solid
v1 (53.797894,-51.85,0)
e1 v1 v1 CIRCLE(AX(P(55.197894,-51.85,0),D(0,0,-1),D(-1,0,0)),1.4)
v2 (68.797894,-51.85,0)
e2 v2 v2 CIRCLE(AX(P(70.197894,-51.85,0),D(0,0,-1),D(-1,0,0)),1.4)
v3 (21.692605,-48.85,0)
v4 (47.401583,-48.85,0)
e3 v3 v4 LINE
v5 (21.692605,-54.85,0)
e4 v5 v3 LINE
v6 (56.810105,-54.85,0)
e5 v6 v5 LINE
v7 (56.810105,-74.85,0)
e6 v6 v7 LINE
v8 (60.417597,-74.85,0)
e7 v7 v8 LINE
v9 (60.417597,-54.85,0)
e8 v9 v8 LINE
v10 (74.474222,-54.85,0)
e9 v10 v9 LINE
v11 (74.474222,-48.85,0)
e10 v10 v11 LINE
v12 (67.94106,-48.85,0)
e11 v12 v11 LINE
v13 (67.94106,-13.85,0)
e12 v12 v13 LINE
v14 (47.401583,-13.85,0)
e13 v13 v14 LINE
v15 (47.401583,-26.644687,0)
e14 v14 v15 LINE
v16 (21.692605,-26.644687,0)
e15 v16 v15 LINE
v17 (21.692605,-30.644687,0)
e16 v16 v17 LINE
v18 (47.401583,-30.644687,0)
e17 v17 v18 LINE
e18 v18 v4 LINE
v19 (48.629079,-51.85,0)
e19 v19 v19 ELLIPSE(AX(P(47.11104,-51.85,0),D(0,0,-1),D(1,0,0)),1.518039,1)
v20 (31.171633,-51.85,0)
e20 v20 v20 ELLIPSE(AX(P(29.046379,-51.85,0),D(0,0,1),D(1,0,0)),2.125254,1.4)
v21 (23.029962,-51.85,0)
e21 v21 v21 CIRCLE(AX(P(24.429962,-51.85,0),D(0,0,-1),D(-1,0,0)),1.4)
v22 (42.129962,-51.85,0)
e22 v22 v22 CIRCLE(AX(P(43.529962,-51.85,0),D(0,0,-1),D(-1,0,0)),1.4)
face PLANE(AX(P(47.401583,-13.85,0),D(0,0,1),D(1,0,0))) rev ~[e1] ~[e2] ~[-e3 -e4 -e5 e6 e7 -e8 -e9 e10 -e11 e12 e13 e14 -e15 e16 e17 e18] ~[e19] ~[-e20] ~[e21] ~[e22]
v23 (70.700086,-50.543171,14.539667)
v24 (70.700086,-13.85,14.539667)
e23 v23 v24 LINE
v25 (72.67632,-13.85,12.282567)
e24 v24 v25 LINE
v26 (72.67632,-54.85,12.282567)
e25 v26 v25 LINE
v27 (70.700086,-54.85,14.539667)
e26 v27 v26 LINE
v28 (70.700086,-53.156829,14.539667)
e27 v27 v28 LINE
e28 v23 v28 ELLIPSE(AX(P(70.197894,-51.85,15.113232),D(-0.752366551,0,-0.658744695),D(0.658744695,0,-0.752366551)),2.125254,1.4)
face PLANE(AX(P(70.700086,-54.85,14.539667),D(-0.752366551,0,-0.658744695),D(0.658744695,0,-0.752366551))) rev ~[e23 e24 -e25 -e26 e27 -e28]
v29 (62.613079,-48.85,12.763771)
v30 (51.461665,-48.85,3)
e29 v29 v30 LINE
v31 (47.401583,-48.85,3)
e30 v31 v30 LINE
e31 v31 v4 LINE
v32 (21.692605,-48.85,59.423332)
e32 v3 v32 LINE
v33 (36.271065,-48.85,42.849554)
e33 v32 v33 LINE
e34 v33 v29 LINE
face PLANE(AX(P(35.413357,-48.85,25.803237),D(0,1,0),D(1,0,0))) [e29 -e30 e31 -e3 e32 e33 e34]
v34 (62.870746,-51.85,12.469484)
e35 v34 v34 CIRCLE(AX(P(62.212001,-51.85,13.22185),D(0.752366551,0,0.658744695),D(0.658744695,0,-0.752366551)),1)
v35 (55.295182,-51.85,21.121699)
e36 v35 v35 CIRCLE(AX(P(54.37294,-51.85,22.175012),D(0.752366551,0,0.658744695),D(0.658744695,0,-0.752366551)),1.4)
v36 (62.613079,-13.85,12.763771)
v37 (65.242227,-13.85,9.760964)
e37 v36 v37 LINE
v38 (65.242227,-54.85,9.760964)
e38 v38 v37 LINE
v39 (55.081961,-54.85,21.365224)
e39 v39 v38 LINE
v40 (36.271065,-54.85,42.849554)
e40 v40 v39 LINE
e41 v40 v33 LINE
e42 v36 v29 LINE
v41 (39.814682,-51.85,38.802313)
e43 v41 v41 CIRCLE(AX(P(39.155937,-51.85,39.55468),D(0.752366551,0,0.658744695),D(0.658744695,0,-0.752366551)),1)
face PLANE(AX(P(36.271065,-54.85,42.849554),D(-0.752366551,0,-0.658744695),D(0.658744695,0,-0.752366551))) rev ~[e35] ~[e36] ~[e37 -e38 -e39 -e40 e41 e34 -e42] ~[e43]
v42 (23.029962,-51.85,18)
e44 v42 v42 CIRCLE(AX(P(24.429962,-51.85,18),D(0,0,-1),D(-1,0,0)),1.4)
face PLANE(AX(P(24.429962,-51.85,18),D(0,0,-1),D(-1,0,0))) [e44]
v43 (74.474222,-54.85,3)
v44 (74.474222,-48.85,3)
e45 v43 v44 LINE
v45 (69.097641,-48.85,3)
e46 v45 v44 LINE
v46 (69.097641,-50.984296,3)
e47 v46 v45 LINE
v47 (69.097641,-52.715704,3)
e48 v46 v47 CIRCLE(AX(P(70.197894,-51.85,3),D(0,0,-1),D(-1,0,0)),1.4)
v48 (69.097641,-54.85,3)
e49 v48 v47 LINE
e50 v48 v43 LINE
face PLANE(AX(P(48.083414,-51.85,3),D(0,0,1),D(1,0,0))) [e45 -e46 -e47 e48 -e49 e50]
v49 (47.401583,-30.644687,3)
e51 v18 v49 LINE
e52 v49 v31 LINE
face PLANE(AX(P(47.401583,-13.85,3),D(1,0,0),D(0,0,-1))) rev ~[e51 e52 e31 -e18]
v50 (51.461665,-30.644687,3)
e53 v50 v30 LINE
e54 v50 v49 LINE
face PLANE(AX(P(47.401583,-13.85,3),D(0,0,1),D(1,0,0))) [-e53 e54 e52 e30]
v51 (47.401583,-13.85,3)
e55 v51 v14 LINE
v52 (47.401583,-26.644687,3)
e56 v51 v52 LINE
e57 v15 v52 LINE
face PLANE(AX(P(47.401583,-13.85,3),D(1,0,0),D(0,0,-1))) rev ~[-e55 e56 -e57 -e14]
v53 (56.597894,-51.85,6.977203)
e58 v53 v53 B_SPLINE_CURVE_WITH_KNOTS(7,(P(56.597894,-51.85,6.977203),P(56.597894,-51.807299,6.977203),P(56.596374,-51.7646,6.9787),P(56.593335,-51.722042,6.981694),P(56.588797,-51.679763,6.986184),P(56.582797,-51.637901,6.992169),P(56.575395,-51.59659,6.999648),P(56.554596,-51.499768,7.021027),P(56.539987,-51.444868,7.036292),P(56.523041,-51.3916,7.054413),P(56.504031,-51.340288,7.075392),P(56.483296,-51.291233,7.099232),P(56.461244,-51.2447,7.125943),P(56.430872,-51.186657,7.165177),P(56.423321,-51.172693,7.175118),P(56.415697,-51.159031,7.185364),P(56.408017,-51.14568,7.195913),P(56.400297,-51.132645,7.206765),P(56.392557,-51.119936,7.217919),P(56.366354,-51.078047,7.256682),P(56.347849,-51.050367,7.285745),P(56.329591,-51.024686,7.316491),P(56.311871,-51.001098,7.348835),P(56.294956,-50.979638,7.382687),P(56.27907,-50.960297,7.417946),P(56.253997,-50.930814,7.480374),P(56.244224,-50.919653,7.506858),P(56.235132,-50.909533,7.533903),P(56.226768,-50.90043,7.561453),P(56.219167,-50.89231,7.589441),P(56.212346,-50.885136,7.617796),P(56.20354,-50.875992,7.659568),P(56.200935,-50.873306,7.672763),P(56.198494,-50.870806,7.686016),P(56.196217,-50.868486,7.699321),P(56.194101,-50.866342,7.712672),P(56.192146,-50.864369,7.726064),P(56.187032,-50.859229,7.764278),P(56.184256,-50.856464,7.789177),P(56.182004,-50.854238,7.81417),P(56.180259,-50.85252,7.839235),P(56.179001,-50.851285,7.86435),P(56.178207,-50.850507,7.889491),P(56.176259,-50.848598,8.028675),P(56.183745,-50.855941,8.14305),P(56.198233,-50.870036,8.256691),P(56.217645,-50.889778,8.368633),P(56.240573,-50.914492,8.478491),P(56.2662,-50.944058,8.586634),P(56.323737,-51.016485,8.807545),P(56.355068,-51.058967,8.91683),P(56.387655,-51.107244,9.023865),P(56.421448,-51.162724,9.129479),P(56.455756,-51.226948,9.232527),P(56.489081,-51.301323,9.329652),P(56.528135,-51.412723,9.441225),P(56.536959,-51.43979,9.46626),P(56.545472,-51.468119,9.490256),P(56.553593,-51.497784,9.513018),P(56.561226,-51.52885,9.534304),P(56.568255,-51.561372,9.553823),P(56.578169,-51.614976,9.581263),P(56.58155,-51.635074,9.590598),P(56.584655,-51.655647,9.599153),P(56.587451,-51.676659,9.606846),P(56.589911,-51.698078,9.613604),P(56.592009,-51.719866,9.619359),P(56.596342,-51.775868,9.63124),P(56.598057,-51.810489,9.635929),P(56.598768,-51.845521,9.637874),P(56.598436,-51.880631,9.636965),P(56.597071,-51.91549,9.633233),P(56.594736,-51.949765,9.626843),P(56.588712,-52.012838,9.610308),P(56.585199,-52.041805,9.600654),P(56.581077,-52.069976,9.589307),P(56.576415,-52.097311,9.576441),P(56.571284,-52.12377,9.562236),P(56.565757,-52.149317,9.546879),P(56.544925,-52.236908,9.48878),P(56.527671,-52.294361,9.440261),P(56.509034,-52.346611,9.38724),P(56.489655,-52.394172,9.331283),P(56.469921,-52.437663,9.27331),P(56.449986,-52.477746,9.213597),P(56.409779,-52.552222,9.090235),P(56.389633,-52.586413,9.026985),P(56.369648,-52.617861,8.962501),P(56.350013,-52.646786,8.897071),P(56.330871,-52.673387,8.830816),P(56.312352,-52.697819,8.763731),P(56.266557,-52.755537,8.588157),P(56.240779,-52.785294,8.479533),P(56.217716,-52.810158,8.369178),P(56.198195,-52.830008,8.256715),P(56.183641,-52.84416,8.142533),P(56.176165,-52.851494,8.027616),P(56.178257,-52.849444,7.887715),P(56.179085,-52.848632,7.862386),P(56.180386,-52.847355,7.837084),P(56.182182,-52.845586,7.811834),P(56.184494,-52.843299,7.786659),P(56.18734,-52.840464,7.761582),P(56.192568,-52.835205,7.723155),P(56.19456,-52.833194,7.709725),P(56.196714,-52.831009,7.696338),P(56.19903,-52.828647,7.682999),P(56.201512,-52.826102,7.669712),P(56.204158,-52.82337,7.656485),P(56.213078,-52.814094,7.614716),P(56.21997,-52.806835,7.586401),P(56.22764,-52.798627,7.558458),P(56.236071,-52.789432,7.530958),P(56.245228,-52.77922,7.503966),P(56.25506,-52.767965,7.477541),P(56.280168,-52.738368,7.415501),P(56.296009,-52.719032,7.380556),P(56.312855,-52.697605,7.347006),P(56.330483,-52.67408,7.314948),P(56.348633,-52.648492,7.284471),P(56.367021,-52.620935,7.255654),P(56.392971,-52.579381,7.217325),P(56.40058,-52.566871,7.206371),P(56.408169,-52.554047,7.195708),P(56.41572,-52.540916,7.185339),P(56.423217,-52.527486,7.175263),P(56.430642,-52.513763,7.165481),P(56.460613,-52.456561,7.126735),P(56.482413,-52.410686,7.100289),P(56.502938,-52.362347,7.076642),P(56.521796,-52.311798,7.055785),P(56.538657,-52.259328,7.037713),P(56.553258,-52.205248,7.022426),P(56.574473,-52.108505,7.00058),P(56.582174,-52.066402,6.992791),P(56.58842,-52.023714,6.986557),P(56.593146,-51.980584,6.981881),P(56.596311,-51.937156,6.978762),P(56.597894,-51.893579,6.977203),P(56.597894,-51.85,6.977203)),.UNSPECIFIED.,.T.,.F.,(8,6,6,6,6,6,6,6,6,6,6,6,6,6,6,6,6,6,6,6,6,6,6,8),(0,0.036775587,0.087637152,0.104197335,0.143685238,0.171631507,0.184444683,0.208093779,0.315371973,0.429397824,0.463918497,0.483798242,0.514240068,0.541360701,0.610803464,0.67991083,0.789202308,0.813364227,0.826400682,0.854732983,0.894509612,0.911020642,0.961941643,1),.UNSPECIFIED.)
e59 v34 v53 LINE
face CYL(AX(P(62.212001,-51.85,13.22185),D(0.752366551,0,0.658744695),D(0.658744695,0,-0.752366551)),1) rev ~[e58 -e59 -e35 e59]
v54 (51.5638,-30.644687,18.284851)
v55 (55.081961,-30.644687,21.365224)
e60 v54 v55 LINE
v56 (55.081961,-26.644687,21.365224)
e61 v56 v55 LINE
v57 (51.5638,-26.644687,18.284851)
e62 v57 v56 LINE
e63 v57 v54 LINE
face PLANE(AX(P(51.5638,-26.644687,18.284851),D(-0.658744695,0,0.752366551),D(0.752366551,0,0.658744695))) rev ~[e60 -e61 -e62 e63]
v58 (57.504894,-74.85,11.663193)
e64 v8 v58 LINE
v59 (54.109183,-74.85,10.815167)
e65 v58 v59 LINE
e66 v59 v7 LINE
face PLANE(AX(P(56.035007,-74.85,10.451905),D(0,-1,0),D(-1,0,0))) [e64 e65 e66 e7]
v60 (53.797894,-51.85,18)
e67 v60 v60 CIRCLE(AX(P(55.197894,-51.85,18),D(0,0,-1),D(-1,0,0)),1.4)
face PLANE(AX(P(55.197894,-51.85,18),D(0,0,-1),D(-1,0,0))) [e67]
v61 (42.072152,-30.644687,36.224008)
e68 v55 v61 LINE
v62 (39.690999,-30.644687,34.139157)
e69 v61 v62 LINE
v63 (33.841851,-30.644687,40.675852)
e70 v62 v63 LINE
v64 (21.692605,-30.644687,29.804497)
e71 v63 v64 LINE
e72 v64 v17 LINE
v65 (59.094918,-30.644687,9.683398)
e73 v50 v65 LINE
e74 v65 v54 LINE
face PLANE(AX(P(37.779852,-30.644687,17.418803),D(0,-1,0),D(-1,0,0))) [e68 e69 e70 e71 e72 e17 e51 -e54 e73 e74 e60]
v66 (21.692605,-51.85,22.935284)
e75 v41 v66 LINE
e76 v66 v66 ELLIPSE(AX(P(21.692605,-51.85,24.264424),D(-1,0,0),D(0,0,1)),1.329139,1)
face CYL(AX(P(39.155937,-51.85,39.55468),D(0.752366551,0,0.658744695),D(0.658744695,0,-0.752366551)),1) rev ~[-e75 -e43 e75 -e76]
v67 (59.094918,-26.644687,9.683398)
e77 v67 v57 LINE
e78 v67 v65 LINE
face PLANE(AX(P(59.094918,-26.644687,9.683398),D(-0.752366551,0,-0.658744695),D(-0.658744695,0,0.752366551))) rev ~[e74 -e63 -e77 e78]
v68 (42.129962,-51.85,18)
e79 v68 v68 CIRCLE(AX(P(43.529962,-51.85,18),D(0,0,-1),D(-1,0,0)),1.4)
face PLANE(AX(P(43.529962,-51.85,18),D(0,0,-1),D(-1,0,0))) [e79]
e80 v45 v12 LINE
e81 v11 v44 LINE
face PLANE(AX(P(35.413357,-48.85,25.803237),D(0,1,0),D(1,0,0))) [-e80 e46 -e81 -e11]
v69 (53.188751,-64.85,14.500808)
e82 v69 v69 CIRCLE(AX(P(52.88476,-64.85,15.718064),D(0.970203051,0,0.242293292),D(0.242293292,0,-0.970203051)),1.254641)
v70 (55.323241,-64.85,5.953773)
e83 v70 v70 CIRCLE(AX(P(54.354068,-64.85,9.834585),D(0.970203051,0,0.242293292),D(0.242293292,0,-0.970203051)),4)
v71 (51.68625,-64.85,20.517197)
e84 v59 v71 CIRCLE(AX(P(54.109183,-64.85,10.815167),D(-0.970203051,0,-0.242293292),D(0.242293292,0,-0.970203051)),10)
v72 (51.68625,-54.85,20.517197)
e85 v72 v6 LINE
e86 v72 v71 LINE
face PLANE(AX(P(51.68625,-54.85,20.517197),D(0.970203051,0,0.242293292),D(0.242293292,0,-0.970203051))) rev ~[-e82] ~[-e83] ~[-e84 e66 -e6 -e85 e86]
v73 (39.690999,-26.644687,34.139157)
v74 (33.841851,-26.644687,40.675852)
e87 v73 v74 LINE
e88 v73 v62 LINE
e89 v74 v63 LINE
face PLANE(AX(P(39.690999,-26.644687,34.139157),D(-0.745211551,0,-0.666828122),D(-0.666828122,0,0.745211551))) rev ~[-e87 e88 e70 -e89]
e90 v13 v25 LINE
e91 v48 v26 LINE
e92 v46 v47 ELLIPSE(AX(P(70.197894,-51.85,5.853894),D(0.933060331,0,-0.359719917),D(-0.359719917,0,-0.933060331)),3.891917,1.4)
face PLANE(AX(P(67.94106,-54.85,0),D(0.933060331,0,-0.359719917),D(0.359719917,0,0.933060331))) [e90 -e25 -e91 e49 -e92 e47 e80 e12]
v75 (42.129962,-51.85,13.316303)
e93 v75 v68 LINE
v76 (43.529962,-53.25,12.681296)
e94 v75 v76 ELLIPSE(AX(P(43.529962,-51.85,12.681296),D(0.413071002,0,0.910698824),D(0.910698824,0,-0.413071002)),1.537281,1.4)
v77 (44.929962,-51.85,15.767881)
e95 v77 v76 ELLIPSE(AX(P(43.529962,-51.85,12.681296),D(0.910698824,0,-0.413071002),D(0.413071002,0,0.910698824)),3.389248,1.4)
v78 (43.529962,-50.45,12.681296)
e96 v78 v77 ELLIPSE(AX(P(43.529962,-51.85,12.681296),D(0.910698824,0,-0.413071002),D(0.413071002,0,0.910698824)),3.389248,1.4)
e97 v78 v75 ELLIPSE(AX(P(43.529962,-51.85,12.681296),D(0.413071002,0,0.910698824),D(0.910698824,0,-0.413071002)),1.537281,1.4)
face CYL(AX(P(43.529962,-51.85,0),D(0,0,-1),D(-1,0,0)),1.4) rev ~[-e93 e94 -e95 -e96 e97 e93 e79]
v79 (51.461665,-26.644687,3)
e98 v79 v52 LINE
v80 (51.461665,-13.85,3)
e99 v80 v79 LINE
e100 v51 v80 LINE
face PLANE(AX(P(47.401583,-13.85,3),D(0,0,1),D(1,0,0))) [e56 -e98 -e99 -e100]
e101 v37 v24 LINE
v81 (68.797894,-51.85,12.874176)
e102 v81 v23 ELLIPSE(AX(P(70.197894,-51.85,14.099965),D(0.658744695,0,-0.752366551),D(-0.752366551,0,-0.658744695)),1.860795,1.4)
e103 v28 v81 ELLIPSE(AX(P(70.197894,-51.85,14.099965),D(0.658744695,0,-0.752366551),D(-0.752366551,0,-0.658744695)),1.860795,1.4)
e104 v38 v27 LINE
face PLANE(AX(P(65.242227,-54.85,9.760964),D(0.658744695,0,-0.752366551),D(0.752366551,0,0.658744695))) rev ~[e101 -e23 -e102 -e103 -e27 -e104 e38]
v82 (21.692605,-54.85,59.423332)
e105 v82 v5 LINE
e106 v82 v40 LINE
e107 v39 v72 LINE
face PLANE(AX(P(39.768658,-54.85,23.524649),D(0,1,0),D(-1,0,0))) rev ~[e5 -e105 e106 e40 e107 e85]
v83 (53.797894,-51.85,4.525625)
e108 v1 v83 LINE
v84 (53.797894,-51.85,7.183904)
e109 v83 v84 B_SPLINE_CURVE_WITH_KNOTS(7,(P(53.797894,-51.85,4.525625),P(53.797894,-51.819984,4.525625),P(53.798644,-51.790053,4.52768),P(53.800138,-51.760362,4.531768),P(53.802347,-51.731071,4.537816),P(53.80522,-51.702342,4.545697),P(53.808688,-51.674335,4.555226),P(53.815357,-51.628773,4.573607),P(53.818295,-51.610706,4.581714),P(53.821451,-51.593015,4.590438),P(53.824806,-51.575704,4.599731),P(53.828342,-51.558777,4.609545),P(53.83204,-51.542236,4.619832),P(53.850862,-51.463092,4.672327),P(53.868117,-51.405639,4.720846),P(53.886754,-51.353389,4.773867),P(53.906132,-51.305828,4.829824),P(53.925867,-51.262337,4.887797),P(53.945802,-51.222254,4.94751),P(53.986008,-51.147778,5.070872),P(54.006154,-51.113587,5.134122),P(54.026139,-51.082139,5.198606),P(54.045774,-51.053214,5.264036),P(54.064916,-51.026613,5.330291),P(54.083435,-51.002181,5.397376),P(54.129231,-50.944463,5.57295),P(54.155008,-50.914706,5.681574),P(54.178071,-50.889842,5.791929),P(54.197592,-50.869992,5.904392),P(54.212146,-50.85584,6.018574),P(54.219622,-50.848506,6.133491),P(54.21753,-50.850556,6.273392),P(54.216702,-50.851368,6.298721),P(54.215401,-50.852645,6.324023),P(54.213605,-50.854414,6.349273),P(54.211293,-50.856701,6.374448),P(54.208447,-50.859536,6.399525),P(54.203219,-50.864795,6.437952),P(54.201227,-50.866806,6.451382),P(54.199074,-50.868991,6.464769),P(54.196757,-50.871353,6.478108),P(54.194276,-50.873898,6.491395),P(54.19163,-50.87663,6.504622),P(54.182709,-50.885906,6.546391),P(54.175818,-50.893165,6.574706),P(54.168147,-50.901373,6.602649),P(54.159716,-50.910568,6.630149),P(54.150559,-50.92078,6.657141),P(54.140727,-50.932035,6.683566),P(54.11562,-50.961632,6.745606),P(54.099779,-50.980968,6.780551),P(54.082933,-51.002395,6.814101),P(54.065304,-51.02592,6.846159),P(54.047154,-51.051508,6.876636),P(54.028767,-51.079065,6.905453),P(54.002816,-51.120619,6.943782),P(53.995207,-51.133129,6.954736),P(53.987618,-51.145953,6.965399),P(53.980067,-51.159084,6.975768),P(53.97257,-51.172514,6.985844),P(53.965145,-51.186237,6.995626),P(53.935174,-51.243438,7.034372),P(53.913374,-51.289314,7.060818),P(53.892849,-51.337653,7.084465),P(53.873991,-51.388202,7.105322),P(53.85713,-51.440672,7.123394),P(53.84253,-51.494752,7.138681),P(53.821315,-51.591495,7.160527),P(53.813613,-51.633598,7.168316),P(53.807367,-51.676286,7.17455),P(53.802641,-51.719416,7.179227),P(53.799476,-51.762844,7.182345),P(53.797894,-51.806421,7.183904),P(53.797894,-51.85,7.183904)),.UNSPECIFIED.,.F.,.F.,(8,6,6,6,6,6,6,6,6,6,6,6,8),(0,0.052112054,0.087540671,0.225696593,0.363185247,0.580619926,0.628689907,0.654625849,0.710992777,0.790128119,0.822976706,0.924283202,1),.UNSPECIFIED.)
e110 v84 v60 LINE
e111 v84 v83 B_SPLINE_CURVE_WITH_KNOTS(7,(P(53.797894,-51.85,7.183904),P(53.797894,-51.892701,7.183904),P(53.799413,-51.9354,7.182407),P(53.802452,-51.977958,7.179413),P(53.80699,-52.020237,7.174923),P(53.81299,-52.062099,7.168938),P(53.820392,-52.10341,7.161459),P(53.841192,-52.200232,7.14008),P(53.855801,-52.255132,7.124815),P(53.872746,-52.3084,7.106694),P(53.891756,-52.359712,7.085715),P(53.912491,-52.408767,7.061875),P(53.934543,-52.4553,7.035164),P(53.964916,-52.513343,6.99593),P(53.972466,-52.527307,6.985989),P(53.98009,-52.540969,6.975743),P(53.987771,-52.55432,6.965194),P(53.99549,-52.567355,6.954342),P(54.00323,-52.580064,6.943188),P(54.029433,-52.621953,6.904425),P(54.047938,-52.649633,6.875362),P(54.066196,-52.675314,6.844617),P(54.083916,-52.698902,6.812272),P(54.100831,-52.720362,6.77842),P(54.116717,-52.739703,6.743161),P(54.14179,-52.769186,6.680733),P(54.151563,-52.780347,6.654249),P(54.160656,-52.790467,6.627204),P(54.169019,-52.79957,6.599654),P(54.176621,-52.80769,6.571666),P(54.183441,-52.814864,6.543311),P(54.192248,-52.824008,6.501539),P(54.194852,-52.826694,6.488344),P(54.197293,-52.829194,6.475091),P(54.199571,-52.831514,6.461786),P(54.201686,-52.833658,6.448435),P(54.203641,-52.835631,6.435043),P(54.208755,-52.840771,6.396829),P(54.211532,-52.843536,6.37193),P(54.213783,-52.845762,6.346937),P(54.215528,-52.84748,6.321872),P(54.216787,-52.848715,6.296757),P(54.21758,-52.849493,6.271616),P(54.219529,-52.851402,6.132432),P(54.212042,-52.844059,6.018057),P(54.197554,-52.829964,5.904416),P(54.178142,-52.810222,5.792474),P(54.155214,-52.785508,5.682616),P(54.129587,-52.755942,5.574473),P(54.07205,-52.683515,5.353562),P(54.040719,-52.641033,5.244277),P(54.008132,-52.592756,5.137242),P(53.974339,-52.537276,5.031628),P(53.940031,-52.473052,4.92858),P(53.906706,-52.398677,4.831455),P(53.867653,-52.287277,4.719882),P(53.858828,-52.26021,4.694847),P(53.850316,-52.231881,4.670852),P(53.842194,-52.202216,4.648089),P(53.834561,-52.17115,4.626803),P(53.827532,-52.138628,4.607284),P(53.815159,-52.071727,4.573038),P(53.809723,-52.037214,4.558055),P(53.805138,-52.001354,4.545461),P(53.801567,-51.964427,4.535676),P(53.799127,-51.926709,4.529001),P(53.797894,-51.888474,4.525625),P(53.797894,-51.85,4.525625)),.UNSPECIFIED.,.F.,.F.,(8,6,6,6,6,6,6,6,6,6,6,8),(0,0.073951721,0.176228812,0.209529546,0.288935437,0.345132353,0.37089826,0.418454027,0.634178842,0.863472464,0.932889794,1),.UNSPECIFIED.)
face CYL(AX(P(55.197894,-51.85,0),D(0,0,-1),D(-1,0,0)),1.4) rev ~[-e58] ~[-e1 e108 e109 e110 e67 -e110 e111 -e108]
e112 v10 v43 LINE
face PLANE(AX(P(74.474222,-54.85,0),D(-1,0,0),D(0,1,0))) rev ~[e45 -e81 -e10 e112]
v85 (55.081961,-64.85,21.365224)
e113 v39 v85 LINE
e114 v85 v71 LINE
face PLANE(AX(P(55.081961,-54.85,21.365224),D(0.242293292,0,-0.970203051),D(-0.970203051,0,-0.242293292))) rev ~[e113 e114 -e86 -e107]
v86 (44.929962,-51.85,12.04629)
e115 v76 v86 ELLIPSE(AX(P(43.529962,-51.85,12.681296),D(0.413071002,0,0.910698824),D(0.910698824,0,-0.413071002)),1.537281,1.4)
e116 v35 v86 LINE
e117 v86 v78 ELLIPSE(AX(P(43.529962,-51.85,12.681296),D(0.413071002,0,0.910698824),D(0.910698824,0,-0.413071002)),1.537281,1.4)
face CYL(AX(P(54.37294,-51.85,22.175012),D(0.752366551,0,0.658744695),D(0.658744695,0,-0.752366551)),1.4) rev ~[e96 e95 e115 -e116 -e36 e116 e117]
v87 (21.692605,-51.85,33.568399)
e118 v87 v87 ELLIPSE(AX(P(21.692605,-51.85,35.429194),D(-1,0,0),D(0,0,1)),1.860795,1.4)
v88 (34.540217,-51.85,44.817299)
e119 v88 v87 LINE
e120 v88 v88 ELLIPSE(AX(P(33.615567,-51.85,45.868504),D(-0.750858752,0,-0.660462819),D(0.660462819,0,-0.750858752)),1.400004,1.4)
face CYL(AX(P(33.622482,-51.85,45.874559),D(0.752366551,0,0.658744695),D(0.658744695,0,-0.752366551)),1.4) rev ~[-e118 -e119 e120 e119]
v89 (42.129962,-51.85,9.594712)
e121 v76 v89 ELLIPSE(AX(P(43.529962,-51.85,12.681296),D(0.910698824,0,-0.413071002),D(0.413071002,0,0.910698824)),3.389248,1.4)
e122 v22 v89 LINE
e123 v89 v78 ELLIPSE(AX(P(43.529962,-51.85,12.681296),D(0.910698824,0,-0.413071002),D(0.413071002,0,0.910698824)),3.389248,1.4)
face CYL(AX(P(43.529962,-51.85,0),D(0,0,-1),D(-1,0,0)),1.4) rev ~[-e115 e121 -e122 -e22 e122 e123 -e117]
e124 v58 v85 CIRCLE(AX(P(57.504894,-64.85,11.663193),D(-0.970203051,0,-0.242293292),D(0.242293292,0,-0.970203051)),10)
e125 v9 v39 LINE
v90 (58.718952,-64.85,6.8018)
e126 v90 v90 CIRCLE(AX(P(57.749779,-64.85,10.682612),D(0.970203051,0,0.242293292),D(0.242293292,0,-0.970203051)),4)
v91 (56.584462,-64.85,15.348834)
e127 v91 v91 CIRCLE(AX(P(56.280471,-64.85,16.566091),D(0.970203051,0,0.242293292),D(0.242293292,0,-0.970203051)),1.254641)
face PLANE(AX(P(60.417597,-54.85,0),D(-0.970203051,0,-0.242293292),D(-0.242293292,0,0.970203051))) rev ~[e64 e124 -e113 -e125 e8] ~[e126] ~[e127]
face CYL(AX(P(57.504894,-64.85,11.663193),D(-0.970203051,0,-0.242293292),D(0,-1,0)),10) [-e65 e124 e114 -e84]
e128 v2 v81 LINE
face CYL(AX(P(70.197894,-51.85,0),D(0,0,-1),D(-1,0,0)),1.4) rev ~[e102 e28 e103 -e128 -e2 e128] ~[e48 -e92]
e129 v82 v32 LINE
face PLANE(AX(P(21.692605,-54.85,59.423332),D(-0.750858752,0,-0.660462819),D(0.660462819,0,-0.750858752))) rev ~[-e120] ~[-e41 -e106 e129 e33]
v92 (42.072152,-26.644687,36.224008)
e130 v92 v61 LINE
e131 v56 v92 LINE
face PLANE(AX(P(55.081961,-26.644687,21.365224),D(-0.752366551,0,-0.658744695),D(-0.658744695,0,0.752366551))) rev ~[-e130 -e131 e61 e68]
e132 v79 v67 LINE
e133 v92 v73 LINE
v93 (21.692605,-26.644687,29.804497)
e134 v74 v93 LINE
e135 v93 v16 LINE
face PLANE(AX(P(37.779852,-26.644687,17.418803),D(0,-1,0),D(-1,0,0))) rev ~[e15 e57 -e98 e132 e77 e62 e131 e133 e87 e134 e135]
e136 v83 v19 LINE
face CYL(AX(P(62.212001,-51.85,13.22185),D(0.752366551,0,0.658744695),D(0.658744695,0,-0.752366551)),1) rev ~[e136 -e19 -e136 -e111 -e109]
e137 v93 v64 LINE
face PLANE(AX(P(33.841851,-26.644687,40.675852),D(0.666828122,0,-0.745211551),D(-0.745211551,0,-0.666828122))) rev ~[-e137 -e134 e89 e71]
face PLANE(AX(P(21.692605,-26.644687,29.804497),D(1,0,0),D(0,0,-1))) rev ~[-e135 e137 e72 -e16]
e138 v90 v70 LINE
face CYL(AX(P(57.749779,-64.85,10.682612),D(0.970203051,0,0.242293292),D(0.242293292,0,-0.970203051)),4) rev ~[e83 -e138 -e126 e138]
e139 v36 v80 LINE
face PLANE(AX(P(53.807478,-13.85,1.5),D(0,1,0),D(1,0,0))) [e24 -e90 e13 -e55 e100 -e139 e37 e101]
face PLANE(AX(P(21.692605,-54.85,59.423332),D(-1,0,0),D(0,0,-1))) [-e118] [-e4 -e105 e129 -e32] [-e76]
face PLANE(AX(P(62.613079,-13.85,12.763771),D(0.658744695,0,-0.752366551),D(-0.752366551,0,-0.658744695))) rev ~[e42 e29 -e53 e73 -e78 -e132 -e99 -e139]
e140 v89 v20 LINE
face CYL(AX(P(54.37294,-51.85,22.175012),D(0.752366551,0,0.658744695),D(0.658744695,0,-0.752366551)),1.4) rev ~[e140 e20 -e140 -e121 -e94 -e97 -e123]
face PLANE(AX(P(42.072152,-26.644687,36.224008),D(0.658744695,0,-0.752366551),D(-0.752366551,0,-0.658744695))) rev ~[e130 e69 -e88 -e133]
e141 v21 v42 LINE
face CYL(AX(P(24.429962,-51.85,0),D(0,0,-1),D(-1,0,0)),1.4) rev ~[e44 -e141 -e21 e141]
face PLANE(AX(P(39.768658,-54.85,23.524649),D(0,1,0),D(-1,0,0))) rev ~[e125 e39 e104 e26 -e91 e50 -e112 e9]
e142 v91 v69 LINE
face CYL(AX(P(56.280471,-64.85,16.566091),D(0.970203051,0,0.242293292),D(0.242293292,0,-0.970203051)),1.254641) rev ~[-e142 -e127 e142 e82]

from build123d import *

# Parameters (mm, degrees)
ESQUISSE4_W             = 52.781616476
ESQUISSE4_H             = 6
BOSS_EXTRU_1_DEPTH      = 3
BOSS_EXTRU_2_DEPTH      = 41
ENL_V_MAT_EXTRU_1_DEPTH = 35
BOSS_EXTRU_3_DEPTH      = 4
ESQUISSE11_R            = 1.4
ENL_V_MAT_EXTRU_2_DEPTH = 43
BOSS_EXTRU_4_DEPTH      = 41
ESQUISSE15_R            = 1
ENL_V_MAT_EXTRU_4_DEPTH = 30
BOSS_EXTRU_5_DEPTH      = 20
ESQUISSE18_R            = 4
ENL_V_MAT_EXTRU_5_DEPTH = 12
ESQUISSE12_R            = 1.4
ENL_V_MAT_EXTRU_6_DEPTH = 18
ESQUISSE19_R            = 1.254640732
ENL_V_MAT_EXTRU_7_DEPTH = 18
CONG_1_R                = 10
ESQUISSE20_W            = 12.811790935
ESQUISSE20_H            = 3
BOSS_EXTRU_7_DEPTH      = 36


with BuildPart() as part:
    # Esquisse4 → Boss.-Extru.1 (new body)
    with BuildSketch(Plane.XY):
        with Locations((48.08341362, -51.85)):
            Rectangle(ESQUISSE4_W, ESQUISSE4_H)
    extrude(amount=BOSS_EXTRU_1_DEPTH)

    # Esquisse6 → Boss.-Extru.2 (add)
    with BuildSketch(Plane.XZ.offset(54.85)):
        Polygon((65.242227071, 9.760964304), (70.700086364, 14.539666718), (72.676320449, 12.282567065), (62.07450001, 3), (21.692605382, 3), (21.692605382, 29.804497378), (21.692605382, 59.423332345), (36.271065294, 42.849554228), align=None)
    extrude(amount=-BOSS_EXTRU_2_DEPTH)

    # Esquisse9 → Enlèv. mat.-Extru.1 (cut)
    with BuildSketch(Plane(origin=(0, -13.85, 0), x_dir=(1, 0, 0), z_dir=(0, 1, 0))):
        Polygon((36.271065294, -42.849554228), (62.613078874, -12.763771276), (51.461664708, -3), (21.692605382, -3), (21.692605382, -29.804497378), (21.692605382, -59.423332345), align=None)
    extrude(amount=-ENL_V_MAT_EXTRU_1_DEPTH, mode=Mode.SUBTRACT)

    # Esquisse10 → Boss.-Extru.3 (add)
    with BuildSketch(Plane(origin=(0, -26.644686639, 0), x_dir=(1, 0, 0), z_dir=(0, 1, 0))):
        Polygon((42.072152074, -36.224007657), (39.690998774, -34.139156727), (33.841851451, -40.675851871), (21.692605382, -29.804497378), (21.692605382, 0), (48.035299878, 0), (59.09491831, -9.68339828), (51.563800233, -18.28485098), (55.081960797, -21.365223976), align=None)
    extrude(amount=-BOSS_EXTRU_3_DEPTH)

    # Esquisse11 → Enlèv. mat.-Extru.2 (cut)
    with BuildSketch(Plane(origin=(41.768421189, 0, 36.570905264), x_dir=(0.658744695, 0, -0.752366551), z_dir=(0.752366551, 0, 0.658744695))):
        with Locations((19.134147904, -51.85)):
            Circle(ESQUISSE11_R)
        with Locations((-12.365852096, -51.85)):
            Circle(ESQUISSE11_R)
    extrude(amount=-ENL_V_MAT_EXTRU_2_DEPTH, mode=Mode.SUBTRACT)

    # Esquisse13 → Boss.-Extru.4 (add)
    with BuildSketch(Plane.XZ.offset(54.85)):
        Polygon((70.700086364, 14.539666718), (60.213373733, 5.357883848), (60.213373733, 0), (67.941059656, 0), (72.676320449, 12.282567065), align=None)
    extrude(amount=-BOSS_EXTRU_4_DEPTH)

    # Esquisse15 → Enlèv. mat.-Extru.4 (cut)
    with BuildSketch(Plane(origin=(41.768421189, 0, 36.570905264), x_dir=(0.658744695, 0, -0.752366551), z_dir=(0.752366551, 0, 0.658744695))):
        with Locations((31.034147904, -51.85)):
            Circle(ESQUISSE15_R)
        with Locations((-3.965852096, -51.85)):
            Circle(ESQUISSE15_R)
    extrude(amount=-ENL_V_MAT_EXTRU_4_DEPTH, mode=Mode.SUBTRACT)

    # Esquisse16 → Boss.-Extru.5 (add)
    with BuildSketch(Plane(origin=(0, -54.85, 0), x_dir=(1, 0, 0), z_dir=(0, 1, 0))):
        Polygon((60.41759692, 0), (55.081960797, -21.365223976), (51.686250118, -20.517197455), (56.810104658, 0), align=None)
    extrude(amount=-BOSS_EXTRU_5_DEPTH)

    # Esquisse18 → Enlèv. mat.-Extru.5 (cut)
    with BuildSketch(Plane(origin=(56.870719104, 0, 14.202587508), x_dir=(0.242293292, 0, -0.970203051), z_dir=(0.970203051, 0, 0.242293292))):
        with Locations((3.628081272, -64.85)):
            Circle(ESQUISSE18_R)
    extrude(amount=-ENL_V_MAT_EXTRU_5_DEPTH, mode=Mode.SUBTRACT)

    # Esquisse12 → Enlèv. mat.-Extru.6 (cut)
    with BuildSketch(Plane(origin=(0, 0, 0), x_dir=(-1, 0, 0), z_dir=(0, 0, -1))):
        with Locations((-24.42996151, -51.85)):
            Circle(ESQUISSE12_R)
        with Locations((-43.52996151, -51.85)):
            Circle(ESQUISSE12_R)
        with Locations((-55.197893581, -51.85)):
            Circle(ESQUISSE12_R)
        with Locations((-70.197893581, -51.85)):
            Circle(ESQUISSE12_R)
    extrude(amount=-ENL_V_MAT_EXTRU_6_DEPTH, mode=Mode.SUBTRACT)

    # Esquisse19 → Enlèv. mat.-Extru.7 (cut)
    with BuildSketch(Plane(origin=(56.870719104, 0, 14.202587508), x_dir=(0.242293292, 0, -0.970203051), z_dir=(0.970203051, 0, 0.242293292))):
        with Locations((-2.43609109, -64.85)):
            Circle(ESQUISSE19_R)
    extrude(amount=-ENL_V_MAT_EXTRU_7_DEPTH, mode=Mode.SUBTRACT)

    # Congé1
    cong_1_edges = [part.edges().sort_by_distance(p)[0] for p in [
        (53.384105458, -74.85, 20.941210715),
    ]]
    fillet(cong_1_edges, radius=CONG_1_R)

    # Esquisse20 → Boss.-Extru.7 (add)
    with BuildSketch(Plane(origin=(0, -13.85, 0), x_dir=(1, 0, 0), z_dir=(0, 1, 0))):
        with Locations((53.807478266, -1.5)):
            Rectangle(ESQUISSE20_W, ESQUISSE20_H)
    extrude(amount=-BOSS_EXTRU_7_DEPTH)


solid = part.part
